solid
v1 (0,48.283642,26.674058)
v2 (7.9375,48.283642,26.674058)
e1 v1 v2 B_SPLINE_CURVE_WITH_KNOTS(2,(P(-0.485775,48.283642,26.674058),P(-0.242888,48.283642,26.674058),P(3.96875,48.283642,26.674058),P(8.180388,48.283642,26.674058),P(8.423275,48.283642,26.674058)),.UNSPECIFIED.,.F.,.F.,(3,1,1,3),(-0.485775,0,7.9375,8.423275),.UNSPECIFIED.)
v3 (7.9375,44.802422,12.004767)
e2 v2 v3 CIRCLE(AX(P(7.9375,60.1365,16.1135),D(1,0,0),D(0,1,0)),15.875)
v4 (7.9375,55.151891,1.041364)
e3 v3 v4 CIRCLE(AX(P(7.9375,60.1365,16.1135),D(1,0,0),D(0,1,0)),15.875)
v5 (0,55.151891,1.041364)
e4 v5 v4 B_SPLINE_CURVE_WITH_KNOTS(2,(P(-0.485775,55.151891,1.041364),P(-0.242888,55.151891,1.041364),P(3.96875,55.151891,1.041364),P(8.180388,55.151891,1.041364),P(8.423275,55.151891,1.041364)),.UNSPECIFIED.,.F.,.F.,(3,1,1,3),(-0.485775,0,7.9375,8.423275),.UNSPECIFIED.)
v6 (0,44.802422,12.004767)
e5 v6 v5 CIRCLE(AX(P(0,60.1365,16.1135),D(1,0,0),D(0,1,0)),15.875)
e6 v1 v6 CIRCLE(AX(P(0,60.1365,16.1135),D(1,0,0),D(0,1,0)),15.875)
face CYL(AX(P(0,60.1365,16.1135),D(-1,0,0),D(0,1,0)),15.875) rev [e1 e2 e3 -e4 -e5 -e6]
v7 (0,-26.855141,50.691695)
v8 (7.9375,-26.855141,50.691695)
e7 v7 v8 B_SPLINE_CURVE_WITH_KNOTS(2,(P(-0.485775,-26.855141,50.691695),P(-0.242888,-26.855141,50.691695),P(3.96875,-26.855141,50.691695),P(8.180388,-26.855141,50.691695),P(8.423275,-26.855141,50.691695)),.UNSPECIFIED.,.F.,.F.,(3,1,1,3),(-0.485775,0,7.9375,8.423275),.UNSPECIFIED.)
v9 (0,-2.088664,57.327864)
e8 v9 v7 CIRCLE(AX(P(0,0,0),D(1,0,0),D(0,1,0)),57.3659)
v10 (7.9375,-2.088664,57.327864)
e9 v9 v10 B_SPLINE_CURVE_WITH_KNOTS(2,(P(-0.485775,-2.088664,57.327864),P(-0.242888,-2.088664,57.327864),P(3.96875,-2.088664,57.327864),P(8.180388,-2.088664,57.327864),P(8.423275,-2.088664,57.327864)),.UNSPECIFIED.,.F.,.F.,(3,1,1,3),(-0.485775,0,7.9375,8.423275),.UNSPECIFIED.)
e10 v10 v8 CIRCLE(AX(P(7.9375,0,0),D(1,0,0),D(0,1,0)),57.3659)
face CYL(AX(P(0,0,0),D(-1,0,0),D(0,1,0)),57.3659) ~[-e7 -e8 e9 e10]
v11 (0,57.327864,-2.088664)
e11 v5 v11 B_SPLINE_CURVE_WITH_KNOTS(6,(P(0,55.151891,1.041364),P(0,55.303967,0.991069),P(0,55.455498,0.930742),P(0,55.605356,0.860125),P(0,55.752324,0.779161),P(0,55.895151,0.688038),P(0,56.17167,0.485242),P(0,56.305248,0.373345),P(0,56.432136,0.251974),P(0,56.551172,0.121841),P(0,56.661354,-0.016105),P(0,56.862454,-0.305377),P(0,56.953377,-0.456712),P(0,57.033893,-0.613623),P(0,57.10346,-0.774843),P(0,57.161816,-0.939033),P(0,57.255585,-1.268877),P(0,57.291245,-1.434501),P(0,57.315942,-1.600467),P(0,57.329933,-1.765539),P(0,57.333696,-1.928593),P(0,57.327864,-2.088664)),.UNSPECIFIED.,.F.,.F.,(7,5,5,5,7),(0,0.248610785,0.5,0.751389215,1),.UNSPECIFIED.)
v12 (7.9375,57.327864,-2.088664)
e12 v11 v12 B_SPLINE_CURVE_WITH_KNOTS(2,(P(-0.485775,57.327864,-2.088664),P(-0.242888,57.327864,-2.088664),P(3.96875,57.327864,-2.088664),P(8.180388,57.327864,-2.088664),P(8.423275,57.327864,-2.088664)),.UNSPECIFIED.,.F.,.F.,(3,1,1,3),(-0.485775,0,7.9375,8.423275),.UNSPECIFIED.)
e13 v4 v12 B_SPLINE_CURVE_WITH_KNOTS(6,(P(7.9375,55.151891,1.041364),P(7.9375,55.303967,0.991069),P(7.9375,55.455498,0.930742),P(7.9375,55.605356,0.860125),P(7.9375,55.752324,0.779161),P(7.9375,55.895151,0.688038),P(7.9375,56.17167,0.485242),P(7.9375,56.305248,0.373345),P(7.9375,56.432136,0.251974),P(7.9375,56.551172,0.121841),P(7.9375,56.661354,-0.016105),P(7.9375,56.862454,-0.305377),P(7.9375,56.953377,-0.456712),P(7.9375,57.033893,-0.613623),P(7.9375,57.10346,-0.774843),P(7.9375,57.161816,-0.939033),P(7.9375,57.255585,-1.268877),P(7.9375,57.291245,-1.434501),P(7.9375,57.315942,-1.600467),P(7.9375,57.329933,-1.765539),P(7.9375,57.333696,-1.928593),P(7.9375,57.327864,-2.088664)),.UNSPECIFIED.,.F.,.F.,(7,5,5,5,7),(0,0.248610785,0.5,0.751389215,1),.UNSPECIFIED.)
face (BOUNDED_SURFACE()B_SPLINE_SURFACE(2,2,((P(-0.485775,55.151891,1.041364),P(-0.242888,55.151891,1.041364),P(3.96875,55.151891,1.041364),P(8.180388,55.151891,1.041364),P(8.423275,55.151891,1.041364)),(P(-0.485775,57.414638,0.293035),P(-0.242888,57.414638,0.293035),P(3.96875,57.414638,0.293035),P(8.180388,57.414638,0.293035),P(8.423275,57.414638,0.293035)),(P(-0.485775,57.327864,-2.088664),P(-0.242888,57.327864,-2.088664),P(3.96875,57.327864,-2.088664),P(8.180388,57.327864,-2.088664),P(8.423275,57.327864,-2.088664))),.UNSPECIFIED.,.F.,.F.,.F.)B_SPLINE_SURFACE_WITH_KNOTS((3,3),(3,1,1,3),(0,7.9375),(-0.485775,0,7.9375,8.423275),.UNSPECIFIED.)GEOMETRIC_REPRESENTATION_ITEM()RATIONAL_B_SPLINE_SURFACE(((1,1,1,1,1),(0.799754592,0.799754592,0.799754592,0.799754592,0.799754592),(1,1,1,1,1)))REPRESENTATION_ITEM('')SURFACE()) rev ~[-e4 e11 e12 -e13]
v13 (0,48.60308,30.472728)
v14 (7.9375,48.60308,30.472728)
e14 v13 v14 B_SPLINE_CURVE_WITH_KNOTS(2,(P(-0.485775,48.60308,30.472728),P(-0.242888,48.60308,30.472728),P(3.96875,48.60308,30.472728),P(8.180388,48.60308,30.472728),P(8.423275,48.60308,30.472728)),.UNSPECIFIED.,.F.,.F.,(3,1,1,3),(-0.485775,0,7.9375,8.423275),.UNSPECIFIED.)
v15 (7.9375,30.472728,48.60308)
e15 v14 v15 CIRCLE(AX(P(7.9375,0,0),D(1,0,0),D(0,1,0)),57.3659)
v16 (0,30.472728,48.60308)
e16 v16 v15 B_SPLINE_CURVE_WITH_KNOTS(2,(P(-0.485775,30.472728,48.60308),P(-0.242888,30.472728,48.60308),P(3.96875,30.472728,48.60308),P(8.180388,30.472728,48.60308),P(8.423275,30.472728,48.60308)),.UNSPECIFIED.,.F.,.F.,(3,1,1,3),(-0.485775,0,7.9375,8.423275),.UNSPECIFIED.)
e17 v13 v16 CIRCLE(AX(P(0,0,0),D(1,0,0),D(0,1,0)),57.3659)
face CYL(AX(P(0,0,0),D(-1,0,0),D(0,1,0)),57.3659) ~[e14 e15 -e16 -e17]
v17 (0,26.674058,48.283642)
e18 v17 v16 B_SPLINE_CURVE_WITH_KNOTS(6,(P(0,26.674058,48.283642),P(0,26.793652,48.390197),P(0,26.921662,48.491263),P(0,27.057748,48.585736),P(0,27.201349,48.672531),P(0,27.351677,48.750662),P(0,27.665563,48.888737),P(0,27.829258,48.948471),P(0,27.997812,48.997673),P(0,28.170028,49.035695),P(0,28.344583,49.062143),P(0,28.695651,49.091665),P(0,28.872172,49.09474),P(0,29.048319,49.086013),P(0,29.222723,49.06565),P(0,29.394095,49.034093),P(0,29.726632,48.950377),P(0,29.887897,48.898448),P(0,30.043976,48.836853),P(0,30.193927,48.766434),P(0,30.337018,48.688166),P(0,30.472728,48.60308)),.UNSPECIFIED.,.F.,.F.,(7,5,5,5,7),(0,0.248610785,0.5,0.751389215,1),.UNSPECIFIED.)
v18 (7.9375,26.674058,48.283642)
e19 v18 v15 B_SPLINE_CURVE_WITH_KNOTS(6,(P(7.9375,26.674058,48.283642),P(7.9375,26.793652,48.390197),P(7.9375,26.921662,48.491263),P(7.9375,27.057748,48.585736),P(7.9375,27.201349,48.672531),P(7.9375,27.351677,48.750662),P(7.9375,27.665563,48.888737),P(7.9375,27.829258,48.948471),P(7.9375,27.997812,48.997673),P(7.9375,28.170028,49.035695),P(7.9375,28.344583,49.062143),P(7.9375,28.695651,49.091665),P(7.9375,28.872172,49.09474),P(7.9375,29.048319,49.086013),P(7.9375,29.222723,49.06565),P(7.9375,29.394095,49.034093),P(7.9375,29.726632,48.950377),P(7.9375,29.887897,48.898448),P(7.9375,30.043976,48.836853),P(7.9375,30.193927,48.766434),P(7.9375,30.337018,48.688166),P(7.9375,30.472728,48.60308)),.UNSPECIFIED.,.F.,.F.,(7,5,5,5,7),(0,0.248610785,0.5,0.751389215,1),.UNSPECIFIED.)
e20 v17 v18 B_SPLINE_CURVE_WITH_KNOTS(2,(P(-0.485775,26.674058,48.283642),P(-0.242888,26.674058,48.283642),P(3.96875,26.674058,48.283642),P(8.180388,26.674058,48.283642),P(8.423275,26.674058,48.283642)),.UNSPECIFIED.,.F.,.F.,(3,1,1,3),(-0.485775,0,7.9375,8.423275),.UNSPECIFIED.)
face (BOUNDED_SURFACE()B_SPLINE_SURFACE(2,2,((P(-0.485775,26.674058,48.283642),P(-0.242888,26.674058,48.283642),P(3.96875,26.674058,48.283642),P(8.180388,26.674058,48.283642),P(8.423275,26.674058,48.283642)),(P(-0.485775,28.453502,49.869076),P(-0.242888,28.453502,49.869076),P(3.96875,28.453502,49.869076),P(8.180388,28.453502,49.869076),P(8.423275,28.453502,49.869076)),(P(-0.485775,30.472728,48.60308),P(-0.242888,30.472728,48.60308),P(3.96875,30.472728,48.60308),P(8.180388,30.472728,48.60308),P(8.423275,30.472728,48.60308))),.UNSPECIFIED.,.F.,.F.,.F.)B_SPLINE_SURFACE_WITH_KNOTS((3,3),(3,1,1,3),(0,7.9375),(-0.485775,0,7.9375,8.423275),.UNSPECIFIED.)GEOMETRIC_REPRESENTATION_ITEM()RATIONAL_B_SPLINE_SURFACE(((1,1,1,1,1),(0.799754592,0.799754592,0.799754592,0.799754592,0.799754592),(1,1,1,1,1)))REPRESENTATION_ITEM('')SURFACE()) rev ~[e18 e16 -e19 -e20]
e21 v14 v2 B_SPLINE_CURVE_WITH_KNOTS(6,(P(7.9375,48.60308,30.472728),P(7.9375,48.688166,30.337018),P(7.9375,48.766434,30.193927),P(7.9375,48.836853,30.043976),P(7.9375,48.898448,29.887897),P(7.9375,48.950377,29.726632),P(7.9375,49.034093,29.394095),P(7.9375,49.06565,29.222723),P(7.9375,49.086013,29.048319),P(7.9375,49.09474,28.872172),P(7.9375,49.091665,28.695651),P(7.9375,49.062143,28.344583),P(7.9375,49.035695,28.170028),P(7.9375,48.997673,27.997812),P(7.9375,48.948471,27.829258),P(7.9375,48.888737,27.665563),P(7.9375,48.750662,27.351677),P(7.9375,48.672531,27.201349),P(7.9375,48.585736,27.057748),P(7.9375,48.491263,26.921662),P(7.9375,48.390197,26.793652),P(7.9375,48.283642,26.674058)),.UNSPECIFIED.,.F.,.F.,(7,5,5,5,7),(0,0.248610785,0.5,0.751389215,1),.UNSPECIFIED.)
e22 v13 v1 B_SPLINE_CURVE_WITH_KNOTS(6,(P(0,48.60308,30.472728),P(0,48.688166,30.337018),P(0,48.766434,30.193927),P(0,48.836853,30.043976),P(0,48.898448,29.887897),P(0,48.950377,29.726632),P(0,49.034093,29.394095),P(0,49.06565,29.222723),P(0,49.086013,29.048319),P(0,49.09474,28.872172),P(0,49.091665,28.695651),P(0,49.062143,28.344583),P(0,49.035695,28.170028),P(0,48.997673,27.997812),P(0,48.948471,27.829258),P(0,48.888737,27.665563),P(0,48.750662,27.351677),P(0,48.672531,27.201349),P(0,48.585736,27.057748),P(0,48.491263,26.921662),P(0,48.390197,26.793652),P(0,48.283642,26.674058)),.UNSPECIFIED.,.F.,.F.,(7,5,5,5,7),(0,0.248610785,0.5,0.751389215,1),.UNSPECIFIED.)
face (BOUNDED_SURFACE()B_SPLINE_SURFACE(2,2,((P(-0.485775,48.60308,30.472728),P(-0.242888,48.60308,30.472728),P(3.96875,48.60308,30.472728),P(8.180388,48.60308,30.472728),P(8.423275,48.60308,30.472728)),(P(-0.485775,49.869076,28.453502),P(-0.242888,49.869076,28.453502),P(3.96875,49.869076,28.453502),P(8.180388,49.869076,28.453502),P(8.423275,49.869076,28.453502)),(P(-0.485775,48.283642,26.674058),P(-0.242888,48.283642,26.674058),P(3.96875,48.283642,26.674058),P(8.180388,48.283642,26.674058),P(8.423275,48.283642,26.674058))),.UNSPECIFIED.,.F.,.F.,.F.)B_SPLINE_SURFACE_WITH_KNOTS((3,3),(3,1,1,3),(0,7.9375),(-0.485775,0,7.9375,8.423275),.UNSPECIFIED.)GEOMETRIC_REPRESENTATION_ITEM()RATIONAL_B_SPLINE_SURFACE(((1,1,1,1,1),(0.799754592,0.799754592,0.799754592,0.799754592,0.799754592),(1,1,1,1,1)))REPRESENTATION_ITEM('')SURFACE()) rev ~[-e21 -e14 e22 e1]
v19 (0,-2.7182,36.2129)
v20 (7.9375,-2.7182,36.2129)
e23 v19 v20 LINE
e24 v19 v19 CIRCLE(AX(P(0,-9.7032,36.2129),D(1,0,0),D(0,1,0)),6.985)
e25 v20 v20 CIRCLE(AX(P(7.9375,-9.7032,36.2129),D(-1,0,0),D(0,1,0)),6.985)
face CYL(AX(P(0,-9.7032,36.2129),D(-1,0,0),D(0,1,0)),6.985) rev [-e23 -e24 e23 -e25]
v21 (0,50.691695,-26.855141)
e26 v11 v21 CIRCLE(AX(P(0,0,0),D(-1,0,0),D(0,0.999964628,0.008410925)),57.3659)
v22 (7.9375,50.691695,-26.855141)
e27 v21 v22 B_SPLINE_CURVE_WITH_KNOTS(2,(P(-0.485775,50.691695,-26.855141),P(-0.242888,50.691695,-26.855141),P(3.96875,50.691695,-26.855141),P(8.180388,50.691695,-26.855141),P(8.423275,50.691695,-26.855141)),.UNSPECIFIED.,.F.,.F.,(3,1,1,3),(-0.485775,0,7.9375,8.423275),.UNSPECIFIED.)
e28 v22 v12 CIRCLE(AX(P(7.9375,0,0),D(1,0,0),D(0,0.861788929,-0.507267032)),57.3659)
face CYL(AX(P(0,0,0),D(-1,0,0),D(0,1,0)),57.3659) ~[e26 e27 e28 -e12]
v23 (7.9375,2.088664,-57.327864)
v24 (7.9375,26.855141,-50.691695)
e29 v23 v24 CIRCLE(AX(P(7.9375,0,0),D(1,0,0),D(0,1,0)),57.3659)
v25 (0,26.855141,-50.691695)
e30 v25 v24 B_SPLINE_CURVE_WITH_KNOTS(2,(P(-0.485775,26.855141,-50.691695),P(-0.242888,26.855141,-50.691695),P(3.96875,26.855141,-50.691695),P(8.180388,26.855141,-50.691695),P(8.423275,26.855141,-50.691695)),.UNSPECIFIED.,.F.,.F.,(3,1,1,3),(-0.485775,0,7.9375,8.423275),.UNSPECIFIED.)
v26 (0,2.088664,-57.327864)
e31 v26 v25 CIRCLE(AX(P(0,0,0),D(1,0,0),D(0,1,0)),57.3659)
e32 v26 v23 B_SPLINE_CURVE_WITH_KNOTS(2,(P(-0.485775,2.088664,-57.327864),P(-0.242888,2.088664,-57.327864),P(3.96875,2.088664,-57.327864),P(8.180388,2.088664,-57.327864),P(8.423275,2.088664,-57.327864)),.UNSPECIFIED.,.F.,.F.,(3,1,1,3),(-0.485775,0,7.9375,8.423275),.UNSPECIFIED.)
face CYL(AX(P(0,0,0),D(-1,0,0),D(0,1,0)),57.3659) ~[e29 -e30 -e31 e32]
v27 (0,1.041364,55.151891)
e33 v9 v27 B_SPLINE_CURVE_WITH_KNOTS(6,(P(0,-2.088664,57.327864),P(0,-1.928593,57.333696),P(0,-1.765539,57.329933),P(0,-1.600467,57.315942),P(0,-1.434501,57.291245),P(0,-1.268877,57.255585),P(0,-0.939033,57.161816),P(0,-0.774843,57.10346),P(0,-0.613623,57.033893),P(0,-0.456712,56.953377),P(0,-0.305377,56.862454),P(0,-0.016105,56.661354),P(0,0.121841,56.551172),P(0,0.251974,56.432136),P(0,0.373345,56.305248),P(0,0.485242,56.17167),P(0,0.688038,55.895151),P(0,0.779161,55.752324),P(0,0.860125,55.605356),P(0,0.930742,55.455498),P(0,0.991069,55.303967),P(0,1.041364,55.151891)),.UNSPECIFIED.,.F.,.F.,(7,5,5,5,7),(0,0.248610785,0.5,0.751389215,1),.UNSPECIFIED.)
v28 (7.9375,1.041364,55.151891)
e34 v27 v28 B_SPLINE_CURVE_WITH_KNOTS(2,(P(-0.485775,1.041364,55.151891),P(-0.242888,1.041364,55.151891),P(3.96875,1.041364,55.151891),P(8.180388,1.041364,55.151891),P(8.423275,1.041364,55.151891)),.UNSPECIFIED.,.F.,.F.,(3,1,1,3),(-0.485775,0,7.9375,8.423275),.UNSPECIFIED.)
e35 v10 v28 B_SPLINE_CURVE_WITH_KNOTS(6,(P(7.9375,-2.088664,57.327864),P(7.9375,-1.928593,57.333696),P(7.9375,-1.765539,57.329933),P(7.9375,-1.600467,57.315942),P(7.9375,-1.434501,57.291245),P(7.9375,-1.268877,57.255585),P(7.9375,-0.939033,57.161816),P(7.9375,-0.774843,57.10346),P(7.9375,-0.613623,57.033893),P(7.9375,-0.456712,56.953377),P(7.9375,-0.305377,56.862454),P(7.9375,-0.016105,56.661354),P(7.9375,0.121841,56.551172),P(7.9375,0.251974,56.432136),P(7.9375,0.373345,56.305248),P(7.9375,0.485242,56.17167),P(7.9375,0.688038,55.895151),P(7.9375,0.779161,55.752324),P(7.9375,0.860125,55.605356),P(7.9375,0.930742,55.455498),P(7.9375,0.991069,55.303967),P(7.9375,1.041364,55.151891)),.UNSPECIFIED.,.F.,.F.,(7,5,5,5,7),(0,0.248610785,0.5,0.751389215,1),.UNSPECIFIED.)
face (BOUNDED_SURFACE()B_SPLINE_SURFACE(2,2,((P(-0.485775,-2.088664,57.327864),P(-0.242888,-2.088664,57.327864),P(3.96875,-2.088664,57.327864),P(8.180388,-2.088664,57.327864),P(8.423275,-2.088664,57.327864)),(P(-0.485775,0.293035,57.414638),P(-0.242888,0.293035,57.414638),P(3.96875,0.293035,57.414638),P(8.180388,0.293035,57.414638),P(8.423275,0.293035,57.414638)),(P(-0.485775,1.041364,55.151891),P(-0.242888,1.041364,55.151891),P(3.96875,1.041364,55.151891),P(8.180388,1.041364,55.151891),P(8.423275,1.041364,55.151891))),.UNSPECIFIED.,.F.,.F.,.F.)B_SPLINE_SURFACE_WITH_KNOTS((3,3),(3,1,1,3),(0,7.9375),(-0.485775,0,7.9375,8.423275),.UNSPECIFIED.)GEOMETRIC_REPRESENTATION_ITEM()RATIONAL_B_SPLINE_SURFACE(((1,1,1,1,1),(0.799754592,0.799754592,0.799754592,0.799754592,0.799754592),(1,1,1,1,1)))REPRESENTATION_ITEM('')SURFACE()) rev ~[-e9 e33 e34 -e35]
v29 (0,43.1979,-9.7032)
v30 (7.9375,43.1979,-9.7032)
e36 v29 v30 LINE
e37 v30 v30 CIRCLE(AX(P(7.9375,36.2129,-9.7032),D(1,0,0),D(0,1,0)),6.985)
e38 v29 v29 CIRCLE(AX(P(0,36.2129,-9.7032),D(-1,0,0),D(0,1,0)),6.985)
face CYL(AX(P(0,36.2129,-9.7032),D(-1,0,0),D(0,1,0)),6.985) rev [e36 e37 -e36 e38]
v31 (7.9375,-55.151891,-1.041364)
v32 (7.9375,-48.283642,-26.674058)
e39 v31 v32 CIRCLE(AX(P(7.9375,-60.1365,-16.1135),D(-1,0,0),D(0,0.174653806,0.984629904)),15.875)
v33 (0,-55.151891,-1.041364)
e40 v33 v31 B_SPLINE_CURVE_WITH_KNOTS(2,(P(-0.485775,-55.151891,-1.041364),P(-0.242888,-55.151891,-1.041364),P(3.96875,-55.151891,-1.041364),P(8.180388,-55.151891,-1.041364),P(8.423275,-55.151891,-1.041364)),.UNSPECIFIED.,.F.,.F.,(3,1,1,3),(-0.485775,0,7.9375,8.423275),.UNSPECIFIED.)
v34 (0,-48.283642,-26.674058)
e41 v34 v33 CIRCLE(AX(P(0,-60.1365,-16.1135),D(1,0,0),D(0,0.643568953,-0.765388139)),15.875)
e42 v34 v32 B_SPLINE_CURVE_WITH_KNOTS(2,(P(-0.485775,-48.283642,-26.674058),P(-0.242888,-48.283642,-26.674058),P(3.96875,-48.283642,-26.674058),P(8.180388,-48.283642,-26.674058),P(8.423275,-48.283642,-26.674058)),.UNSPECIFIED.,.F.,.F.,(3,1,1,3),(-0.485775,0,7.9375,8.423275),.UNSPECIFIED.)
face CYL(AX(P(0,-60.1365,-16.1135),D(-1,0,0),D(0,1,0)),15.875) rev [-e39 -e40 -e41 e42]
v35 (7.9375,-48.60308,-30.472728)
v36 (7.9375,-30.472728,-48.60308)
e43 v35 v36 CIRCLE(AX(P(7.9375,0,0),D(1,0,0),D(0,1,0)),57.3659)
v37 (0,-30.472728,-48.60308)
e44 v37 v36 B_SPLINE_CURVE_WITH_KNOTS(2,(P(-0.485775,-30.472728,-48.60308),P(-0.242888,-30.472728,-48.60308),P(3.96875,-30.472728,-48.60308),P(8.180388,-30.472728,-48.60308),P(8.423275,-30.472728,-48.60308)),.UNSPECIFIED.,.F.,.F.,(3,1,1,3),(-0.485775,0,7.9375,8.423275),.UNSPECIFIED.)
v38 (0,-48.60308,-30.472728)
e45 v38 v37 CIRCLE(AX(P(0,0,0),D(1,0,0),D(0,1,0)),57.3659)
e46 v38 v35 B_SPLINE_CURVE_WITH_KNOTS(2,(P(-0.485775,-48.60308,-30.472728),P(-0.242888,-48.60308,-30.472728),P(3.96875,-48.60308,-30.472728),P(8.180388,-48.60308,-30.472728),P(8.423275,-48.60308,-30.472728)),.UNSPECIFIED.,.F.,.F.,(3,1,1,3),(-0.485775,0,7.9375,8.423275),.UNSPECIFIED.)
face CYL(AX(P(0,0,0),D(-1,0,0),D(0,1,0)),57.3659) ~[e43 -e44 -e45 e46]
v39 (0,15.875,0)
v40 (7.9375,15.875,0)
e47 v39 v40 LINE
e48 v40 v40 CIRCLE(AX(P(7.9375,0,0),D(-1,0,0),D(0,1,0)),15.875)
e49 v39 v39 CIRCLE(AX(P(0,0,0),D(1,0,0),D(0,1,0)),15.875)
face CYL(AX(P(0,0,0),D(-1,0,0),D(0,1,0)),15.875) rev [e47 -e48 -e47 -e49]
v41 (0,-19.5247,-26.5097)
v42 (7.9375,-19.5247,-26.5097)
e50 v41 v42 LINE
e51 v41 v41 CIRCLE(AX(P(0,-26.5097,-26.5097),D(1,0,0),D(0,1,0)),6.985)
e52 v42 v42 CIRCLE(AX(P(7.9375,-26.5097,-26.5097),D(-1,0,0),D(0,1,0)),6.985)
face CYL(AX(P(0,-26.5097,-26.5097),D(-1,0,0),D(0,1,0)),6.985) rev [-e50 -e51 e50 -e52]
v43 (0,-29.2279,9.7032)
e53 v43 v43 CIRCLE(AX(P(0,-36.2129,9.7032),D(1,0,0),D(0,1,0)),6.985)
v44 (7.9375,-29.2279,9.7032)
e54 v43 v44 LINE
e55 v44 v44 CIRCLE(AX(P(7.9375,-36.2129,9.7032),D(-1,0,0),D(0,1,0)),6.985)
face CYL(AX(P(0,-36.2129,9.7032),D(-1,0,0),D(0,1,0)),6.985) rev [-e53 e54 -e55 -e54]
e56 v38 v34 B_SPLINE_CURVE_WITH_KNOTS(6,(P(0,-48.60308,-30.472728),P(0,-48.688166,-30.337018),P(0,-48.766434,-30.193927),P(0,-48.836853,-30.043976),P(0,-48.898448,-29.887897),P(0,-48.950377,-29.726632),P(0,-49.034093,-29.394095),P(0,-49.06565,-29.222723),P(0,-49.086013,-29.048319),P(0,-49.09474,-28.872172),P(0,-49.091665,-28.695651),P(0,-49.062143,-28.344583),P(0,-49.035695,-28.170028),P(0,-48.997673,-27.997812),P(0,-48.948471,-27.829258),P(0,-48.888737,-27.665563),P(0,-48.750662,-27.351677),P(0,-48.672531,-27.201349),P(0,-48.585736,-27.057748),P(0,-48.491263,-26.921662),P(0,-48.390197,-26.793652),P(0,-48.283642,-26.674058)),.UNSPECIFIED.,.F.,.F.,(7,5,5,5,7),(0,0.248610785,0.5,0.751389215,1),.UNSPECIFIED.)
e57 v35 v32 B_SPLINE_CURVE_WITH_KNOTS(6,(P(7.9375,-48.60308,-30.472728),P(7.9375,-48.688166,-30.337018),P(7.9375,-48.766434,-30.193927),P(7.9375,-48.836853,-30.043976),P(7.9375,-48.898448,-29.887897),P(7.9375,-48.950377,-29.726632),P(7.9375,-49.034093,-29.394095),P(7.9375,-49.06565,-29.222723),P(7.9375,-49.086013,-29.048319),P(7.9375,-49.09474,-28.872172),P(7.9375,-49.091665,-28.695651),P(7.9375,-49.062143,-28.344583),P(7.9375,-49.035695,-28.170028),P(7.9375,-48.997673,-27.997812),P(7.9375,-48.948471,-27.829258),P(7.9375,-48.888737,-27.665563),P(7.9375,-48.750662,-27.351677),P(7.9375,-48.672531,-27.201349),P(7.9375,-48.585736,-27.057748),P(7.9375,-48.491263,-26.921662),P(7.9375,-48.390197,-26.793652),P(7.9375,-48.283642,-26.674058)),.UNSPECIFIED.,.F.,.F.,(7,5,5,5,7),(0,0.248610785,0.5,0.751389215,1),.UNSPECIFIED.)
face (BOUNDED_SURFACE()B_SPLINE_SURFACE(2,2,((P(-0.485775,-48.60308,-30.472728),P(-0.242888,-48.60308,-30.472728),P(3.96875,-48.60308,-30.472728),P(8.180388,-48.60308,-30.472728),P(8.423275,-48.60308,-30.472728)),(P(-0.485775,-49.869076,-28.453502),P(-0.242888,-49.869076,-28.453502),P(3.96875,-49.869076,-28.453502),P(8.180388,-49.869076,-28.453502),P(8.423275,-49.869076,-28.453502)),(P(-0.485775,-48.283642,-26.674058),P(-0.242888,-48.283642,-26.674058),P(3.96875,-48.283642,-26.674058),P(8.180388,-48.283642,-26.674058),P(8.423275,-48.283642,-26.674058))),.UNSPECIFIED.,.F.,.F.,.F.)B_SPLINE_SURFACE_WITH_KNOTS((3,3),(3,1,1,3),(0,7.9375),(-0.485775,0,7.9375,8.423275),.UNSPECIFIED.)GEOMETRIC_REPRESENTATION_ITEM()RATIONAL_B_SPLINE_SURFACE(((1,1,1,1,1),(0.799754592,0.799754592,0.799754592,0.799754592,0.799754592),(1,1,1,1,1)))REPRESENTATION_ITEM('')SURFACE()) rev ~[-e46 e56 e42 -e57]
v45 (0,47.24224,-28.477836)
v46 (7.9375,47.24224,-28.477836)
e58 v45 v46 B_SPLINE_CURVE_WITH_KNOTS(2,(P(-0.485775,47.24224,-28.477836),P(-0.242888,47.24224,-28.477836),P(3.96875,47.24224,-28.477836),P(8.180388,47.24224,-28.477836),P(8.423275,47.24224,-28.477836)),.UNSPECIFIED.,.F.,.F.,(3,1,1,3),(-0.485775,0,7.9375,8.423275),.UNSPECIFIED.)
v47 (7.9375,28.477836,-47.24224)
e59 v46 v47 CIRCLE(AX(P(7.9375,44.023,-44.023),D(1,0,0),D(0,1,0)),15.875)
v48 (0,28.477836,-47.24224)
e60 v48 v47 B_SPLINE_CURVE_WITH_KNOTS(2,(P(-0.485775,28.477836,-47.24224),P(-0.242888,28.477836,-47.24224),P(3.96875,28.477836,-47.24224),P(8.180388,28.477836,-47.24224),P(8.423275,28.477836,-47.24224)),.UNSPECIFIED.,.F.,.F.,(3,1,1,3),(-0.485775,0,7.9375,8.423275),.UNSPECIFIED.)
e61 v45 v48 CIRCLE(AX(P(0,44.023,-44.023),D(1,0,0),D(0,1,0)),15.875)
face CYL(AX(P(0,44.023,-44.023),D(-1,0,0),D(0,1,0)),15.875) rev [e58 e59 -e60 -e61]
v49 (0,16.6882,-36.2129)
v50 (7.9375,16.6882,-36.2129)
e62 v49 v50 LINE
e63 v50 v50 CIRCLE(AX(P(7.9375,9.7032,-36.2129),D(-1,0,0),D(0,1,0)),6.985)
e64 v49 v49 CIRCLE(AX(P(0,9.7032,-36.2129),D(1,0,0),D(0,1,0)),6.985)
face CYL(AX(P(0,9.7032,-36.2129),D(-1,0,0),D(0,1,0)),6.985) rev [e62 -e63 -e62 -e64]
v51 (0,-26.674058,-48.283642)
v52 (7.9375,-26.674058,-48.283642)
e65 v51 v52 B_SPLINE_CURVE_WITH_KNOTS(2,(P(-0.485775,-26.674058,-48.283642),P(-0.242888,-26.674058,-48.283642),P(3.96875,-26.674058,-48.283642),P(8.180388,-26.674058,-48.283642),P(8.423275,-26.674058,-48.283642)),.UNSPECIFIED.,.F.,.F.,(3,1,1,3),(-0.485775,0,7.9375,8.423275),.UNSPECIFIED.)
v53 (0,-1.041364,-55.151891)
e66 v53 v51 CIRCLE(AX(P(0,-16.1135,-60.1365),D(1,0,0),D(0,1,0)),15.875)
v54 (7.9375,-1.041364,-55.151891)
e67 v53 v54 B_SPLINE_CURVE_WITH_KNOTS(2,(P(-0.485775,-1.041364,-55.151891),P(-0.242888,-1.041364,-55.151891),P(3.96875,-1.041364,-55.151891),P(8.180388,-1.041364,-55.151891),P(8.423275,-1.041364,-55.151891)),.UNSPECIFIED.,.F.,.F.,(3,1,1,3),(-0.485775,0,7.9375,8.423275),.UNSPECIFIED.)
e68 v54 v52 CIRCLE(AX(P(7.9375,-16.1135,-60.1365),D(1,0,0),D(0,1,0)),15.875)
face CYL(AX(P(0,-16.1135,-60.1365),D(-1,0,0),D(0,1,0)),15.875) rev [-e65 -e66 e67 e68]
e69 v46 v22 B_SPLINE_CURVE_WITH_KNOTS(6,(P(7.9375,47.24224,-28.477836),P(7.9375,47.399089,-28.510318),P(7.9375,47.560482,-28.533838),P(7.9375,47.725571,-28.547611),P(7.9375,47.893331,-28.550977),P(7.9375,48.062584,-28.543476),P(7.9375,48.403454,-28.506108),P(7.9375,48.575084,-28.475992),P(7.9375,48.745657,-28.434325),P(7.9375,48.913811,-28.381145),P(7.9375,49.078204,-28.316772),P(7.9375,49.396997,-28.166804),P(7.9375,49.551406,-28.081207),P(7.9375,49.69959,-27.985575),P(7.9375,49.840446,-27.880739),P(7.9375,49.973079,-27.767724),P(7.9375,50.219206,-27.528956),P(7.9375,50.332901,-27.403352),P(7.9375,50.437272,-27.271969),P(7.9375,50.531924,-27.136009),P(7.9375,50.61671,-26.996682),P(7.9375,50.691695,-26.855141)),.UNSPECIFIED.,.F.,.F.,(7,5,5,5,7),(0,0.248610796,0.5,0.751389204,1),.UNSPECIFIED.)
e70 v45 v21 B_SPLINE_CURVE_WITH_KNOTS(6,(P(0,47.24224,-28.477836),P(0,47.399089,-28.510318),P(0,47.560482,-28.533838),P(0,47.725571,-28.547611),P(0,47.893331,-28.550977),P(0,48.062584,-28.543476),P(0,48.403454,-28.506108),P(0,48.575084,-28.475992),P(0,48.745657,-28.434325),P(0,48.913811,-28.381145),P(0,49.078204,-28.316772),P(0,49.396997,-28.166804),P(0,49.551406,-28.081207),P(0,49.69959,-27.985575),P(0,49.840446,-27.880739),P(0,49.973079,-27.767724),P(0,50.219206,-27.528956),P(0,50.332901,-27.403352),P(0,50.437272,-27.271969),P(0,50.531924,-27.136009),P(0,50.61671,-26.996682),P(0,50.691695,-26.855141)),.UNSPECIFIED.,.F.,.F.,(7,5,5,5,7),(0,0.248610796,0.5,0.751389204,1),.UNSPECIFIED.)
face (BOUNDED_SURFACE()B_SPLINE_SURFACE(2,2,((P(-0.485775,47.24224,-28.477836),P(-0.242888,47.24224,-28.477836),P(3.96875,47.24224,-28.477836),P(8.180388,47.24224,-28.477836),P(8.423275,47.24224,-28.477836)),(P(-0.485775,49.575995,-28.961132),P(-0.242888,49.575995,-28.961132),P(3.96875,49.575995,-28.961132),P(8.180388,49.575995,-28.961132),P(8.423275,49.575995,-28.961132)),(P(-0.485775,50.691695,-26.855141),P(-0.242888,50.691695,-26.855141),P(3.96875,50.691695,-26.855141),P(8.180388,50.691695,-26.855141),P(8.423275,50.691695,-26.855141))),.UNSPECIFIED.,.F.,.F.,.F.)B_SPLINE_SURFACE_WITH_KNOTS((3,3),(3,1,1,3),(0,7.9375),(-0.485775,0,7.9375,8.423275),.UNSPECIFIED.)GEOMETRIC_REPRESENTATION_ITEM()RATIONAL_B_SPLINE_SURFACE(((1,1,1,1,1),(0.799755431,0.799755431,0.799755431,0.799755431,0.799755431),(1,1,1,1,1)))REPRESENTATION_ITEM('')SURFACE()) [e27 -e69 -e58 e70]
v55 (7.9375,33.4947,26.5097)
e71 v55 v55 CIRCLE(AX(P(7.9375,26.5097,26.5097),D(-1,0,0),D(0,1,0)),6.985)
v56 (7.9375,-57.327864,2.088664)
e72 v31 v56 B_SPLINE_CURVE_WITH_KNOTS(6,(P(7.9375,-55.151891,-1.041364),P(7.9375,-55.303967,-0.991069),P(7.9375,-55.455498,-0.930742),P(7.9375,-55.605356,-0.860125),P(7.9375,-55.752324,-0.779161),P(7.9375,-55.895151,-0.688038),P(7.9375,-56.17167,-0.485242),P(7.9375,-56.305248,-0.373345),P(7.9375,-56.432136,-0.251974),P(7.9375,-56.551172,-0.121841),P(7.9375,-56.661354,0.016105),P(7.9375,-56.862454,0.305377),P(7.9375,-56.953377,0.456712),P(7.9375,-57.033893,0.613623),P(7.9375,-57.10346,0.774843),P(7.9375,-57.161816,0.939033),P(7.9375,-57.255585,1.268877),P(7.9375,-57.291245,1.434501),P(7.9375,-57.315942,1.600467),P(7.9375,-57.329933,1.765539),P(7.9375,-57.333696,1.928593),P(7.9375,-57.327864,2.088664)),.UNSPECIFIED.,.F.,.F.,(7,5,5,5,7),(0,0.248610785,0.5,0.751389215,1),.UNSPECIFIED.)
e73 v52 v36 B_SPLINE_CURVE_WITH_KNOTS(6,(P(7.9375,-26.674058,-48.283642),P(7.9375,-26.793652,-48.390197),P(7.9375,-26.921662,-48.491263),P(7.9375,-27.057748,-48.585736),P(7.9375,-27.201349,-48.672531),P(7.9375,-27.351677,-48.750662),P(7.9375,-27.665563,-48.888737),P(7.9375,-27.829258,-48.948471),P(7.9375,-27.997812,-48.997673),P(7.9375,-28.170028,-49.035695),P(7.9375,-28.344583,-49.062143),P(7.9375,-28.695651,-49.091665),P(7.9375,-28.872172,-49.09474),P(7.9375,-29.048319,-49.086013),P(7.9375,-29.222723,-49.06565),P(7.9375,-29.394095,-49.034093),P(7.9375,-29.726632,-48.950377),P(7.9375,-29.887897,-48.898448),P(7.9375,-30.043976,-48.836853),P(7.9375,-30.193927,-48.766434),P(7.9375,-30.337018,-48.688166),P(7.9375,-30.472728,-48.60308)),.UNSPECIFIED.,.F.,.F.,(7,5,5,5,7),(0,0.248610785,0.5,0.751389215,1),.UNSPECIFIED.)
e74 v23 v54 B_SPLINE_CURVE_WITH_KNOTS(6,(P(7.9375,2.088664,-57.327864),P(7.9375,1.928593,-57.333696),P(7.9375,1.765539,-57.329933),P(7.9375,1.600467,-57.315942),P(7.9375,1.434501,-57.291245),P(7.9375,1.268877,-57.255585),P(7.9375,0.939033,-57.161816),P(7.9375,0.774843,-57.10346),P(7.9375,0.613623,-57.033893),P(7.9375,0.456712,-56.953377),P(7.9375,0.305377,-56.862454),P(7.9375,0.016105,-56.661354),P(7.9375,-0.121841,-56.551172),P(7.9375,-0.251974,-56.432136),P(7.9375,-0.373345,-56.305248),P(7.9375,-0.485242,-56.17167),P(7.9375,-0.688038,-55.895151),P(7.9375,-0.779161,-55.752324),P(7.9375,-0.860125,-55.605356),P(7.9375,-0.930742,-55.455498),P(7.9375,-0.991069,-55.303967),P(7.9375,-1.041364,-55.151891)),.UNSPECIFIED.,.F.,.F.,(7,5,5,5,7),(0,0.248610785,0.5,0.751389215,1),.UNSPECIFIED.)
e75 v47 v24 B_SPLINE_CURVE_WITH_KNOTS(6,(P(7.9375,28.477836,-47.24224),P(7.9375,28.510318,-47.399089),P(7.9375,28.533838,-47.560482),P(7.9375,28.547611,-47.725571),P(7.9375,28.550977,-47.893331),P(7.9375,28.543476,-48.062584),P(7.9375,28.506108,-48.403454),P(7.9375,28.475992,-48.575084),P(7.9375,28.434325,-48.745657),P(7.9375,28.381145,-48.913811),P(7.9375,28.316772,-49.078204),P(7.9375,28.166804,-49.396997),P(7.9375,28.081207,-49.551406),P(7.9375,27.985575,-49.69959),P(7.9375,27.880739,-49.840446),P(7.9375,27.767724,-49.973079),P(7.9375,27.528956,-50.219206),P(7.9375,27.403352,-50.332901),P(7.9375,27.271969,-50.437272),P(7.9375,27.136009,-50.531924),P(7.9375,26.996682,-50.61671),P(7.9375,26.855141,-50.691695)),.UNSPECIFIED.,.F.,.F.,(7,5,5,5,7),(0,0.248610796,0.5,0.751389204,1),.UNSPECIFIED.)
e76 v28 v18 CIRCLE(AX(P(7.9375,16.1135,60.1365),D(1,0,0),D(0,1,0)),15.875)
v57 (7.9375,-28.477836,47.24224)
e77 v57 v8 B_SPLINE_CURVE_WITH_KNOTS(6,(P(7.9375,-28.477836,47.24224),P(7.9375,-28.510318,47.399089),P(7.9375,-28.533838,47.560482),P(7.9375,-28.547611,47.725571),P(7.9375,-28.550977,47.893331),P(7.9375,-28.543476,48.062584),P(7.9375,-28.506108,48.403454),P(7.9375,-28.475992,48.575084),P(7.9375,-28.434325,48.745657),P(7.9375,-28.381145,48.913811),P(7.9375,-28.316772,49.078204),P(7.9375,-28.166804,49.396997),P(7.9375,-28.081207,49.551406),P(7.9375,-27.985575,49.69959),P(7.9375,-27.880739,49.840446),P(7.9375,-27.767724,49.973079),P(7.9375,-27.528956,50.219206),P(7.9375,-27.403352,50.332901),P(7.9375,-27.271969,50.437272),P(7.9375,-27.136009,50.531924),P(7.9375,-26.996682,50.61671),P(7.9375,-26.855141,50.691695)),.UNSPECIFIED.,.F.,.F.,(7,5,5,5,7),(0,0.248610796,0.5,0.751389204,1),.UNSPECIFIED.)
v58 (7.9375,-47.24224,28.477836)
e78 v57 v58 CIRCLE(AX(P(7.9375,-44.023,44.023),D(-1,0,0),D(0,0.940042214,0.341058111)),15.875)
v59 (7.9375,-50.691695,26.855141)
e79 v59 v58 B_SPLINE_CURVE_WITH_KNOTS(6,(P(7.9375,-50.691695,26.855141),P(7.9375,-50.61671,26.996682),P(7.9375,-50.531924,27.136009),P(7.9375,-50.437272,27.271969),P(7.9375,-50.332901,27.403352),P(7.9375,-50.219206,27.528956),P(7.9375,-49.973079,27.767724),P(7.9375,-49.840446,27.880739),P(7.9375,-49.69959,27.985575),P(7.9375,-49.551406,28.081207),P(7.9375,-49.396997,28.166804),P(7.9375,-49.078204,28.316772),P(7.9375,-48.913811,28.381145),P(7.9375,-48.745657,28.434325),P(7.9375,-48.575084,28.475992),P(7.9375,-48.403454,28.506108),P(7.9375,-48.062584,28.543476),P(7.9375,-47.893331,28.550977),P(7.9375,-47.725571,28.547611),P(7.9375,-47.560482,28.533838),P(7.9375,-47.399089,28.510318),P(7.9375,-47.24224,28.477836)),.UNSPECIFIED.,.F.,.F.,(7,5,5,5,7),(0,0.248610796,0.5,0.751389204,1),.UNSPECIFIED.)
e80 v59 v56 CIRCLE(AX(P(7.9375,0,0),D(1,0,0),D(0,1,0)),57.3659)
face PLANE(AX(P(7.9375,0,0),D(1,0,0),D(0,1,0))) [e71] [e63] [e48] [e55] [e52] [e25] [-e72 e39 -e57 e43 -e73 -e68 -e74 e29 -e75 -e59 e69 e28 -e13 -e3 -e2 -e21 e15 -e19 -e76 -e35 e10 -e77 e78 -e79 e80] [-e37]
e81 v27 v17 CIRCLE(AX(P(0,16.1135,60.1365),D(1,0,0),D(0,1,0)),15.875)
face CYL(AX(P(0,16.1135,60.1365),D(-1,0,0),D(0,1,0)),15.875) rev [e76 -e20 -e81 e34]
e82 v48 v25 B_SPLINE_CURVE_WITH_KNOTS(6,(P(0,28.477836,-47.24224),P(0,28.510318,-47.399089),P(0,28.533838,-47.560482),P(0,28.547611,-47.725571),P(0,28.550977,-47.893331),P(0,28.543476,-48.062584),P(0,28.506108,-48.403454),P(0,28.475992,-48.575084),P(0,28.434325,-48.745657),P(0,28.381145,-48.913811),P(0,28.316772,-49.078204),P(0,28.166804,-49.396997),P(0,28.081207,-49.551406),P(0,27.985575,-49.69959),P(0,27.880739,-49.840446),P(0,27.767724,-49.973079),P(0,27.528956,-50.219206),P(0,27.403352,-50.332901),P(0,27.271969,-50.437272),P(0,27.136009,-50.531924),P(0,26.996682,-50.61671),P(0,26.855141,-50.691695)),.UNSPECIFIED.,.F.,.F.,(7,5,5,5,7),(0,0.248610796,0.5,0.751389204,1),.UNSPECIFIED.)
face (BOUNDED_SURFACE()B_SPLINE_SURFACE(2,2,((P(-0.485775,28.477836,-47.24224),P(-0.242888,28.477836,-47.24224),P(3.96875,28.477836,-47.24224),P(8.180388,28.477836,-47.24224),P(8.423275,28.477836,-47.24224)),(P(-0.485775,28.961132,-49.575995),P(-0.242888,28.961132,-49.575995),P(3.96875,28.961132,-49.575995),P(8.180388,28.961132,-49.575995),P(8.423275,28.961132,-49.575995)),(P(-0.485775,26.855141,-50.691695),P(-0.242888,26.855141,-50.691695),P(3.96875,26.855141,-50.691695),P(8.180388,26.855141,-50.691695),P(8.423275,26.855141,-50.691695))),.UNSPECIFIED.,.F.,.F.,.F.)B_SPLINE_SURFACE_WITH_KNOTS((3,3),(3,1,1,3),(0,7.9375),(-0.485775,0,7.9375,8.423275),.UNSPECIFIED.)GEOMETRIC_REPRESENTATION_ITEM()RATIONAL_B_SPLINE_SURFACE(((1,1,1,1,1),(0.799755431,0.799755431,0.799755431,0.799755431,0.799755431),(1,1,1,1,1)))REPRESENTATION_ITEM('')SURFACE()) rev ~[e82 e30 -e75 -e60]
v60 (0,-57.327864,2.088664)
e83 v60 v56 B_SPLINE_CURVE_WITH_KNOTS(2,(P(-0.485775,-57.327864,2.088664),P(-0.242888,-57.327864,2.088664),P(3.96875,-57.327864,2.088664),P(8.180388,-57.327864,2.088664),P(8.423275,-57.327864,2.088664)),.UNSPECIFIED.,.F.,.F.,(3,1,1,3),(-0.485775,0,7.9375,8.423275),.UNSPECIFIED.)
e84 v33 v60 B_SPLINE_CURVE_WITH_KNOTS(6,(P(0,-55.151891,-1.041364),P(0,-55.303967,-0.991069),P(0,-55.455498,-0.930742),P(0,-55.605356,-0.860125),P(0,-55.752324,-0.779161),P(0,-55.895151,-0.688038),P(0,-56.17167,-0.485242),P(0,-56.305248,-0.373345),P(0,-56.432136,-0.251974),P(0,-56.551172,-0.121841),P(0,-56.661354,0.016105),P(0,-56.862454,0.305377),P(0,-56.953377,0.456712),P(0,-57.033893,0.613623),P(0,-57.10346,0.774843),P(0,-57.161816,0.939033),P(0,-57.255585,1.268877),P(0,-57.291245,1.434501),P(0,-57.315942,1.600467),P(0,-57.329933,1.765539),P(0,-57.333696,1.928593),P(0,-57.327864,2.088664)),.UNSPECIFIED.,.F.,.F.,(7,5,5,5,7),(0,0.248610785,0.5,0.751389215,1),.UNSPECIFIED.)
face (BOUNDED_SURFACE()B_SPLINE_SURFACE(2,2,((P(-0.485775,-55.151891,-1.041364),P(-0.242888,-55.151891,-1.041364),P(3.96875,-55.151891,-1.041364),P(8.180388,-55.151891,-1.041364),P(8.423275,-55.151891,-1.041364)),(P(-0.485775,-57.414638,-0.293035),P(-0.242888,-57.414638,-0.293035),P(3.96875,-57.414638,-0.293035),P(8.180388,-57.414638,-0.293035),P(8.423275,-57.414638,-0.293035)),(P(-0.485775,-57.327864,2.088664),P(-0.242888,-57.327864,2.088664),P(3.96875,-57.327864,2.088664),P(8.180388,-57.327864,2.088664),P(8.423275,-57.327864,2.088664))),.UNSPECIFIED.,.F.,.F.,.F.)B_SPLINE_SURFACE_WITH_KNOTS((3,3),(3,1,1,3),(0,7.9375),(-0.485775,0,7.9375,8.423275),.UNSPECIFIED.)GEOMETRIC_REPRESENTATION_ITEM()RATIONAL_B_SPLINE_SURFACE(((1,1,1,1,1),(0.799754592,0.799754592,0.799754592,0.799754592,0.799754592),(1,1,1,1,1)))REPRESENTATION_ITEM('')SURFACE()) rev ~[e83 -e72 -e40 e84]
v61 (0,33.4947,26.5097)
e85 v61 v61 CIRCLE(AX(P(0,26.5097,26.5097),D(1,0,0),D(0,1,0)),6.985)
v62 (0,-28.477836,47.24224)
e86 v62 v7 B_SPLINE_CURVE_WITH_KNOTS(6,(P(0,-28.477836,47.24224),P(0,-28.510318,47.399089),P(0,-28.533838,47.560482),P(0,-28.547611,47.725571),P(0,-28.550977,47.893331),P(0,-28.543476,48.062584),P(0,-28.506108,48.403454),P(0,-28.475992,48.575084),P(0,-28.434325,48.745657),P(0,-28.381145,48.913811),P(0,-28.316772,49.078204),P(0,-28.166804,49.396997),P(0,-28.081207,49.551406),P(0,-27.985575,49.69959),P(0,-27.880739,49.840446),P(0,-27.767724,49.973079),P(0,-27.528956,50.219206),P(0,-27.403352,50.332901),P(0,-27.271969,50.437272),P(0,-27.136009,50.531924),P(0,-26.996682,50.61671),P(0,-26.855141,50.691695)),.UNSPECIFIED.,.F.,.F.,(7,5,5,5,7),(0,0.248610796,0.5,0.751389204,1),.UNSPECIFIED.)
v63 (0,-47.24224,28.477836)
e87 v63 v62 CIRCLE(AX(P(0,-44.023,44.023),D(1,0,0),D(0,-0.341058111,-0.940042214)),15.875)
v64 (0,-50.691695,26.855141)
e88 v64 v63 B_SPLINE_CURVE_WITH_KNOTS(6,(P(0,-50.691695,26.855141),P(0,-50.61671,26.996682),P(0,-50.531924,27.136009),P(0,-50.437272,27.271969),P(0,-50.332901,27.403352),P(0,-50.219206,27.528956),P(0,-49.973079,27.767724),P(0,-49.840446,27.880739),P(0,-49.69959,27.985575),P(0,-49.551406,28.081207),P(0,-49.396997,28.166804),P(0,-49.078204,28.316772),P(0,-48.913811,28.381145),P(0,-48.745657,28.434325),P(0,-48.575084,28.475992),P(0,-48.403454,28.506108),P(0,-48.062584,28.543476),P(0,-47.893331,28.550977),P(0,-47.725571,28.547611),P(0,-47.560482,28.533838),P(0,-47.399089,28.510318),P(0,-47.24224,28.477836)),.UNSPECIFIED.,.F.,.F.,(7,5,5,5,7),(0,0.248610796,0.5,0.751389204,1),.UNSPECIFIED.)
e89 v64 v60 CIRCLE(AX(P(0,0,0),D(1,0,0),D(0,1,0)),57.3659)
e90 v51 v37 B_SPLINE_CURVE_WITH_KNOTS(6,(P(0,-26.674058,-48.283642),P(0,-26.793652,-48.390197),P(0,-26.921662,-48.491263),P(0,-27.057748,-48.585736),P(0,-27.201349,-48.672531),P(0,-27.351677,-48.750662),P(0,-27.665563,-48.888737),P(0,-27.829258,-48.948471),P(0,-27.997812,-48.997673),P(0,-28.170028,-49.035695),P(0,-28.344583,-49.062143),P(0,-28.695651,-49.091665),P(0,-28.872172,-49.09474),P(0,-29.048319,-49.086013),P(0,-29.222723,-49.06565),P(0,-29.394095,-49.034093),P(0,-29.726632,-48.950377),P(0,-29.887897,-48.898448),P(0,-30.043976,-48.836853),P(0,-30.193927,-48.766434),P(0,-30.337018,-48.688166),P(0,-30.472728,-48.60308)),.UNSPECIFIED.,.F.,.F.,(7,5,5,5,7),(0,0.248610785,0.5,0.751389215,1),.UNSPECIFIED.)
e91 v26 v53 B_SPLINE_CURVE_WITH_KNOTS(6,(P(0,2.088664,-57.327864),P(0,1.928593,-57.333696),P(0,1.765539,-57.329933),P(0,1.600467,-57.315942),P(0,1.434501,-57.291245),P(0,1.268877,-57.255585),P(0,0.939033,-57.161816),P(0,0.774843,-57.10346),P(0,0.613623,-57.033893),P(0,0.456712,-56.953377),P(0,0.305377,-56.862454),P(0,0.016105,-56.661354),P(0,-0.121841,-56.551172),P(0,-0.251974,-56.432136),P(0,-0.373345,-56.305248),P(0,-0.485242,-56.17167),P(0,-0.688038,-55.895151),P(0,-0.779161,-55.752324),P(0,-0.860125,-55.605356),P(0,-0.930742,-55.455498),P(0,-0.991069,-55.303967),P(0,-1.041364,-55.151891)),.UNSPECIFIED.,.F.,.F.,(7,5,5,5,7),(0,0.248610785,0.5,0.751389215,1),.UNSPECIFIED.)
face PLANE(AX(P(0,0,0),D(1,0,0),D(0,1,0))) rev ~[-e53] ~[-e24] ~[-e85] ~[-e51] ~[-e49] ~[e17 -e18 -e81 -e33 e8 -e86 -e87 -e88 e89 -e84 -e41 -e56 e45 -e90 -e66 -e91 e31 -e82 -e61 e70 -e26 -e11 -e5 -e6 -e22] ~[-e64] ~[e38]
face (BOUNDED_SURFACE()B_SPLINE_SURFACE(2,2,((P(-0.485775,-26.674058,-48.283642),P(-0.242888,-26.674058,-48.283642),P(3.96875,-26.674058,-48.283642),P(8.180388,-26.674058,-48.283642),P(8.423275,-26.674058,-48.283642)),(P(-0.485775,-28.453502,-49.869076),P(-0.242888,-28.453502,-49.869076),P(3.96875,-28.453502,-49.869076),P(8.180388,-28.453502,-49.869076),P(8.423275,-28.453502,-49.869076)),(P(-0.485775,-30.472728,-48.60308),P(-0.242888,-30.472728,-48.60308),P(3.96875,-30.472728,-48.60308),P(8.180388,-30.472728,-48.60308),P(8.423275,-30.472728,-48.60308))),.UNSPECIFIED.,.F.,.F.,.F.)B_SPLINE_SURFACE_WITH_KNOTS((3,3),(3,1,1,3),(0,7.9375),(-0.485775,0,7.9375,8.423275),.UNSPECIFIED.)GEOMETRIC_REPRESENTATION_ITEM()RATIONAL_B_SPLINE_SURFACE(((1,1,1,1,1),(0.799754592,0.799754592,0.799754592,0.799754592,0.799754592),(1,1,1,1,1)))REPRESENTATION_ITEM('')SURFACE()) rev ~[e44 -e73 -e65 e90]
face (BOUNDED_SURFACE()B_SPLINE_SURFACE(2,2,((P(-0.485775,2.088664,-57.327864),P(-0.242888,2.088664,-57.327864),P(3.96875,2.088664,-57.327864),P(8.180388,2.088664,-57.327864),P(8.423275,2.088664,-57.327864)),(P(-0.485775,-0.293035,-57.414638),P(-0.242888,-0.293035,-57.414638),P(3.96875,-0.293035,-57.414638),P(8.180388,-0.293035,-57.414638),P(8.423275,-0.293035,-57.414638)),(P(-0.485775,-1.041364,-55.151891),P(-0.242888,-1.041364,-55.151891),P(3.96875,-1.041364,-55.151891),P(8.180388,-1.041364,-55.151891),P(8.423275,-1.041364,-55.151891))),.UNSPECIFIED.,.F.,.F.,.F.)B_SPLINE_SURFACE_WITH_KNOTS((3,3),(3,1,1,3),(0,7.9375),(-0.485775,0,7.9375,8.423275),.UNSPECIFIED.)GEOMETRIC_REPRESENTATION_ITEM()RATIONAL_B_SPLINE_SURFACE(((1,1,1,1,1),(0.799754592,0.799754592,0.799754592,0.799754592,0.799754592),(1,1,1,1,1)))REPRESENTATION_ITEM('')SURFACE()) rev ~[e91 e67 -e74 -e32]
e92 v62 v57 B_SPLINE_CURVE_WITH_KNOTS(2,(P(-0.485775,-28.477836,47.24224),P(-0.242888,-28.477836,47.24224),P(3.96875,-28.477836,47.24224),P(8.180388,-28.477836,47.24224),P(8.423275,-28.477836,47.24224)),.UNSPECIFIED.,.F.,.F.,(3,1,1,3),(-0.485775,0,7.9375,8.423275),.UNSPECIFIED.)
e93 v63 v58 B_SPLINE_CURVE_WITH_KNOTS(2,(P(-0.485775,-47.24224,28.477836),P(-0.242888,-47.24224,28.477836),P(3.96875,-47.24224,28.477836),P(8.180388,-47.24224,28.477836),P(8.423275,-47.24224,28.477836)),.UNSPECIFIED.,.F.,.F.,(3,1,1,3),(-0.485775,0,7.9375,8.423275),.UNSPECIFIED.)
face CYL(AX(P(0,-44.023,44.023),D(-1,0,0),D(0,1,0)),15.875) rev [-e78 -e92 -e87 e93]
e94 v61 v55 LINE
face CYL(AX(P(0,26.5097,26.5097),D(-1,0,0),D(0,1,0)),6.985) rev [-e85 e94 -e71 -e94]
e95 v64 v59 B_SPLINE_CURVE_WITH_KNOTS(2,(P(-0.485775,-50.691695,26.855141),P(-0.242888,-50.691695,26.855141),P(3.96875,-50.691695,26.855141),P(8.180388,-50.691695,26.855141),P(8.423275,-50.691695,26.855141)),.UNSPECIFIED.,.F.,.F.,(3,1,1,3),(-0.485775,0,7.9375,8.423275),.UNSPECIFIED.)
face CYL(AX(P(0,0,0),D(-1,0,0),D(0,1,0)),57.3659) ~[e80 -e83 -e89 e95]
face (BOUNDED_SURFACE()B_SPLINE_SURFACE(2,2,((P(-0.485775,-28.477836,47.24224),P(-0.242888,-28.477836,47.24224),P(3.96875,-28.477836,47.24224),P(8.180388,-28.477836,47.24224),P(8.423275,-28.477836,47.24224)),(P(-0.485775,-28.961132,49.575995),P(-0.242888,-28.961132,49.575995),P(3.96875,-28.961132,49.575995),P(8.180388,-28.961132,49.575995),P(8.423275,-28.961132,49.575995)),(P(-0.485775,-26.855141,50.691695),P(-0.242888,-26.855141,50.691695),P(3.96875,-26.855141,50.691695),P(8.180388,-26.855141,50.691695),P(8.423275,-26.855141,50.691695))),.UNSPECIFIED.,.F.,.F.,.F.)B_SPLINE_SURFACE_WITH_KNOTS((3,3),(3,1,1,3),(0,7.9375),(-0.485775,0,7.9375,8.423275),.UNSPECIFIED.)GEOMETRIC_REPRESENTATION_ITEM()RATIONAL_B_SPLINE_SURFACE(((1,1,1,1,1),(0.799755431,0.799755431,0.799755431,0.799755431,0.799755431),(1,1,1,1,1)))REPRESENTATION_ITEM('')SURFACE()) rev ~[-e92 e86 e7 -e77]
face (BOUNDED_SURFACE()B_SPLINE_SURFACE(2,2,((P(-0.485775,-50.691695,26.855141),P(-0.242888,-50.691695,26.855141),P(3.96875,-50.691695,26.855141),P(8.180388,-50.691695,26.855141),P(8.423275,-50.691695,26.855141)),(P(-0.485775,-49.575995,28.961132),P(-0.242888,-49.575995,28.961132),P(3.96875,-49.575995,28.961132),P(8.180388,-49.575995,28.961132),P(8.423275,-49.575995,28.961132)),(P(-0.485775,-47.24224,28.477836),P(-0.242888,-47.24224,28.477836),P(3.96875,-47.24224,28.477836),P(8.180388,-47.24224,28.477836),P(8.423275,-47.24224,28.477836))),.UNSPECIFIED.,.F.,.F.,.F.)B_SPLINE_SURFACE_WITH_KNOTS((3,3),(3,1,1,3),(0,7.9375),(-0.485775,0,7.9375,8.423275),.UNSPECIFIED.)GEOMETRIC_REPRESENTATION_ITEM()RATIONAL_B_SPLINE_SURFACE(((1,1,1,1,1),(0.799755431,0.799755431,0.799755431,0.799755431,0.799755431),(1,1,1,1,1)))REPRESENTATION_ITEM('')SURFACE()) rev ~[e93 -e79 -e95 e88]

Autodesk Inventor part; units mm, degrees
ref_plane "YZ Plane" through (0, 0, 0) normal (1, 0, 0) x (0, 1, 0)
ref_plane "XZ Plane" through (0, 0, 0) normal (0, 1, 0) x (-1, 0, 0)
ref_plane "XY Plane" through (0, 0, 0) normal (0, 0, 1) x (1, 0, 0)
sketch "Sketch1" plane through (0, 0, 0) normal (1, 0, 0) x (0, 1, 0)
  circle A0 centre (0, 0) radius 57.3659
  circle A1 centre (0, 0) radius 37.4904
  circle A2 centre (26.5097, 26.5097) radius 6.985
  line L0 (0, 0) -> (26.5097, 26.5097)
  line L1 (0, 0) -> (37.4904, 0) construction
  circle A3 centre (-9.7032, 36.2129) radius 6.985
  circle A4 centre (-36.2129, 9.7032) radius 6.985
  circle A5 centre (-26.5097, -26.5097) radius 6.985
  circle A6 centre (9.7032, -36.2129) radius 6.985
  circle A7 centre (36.2129, -9.7032) radius 6.985
  circle A8 centre (0, 0) radius 15.875
  circle A9 centre (60.1365, 16.1135) radius 15.875
  line L2 (0, 0) -> (62.2818, 0) construction
  line L3 (0, 0) -> (54.4204, 0) construction
  line L4 (0, 0) -> (47.0027, 0) construction
  line L5 (0, 0) -> (74.4134, 19.939)
  line L6 (0, 0) -> (77.0384, 0) construction
  circle A10 centre (0, 0) radius 15.875
  circle A11 centre (16.1135, 60.1365) radius 15.875
  circle A12 centre (0, 0) radius 15.875
  circle A13 centre (-44.023, 44.023) radius 15.875
  circle A14 centre (0, 0) radius 15.875
  circle A15 centre (-60.1365, -16.1135) radius 15.875
  circle A16 centre (0, 0) radius 15.875
  circle A17 centre (-16.1135, -60.1365) radius 15.875
  circle A18 centre (0, 0) radius 15.875
  circle A19 centre (44.023, -44.023) radius 15.875
  line L7 (0, 0) -> (-9.7032, 36.2129)
  line L8 (0, 0) -> (-36.2129, 9.7032)
  point P0 (36.2129, 9.7032)
  point P1 (49.9198, 28.264)
  point P2 (28.264, 49.9198)
  point P3 (0.4825, 57.3639)
  point P4 (-29.0998, 49.4373)
  point P5 (-49.4373, 29.0998)
  point P6 (-57.3639, -0.4825)
  point P7 (-49.9198, -28.264)
  point P8 (-28.264, -49.9198)
  point P9 (-0.4825, -57.3639)
  point P10 (29.0998, -49.4373)
  point P11 (49.4373, -29.0998)
  point P12 (57.3639, 0.4825)
  dimension "d0" = 114.7318
  dimension "d1" = 74.9808
  dimension "d2" = 13.97
  dimension "d3" = 45
  dimension "d6" = 360
  dimension "d8" = 31.75
  dimension "d12" = 31.75
  dimension "d16" = 15
  dimension "d19" = 360
  dimension "d24" = 21.6154
  dimension "d25" = 60.1365
extrude "Extrusion1" add sketch "Sketch1" along normal blind 7.9375 contours A1 A7 A6 A5 A4 L8 A8 L5 | L5 A8 L0 A2 A1 | A0 A19 A17 A15 A13 A11 A9 | L0 A8 L7 A3 A1 A2 | L8 A4 A1 A3 L7 A8
fillet "Fillet1" radius 3.175 12 edges at (3.9688, 57.3639, 0.4825) (3.9688, 49.9198, 28.264) (3.9688, 29.0998, -49.4373) (3.9688, 49.4373, -29.0998) (3.9688, -0.4825, -57.3639) (3.9688, -28.264, -49.9198) (3.9688, -49.9198, -28.264) (3.9688, -57.3639, -0.4825) (3.9688, -49.4373, 29.0998) (3.9688, -29.0998, 49.4373) (3.9688, 0.4825, 57.3639) (3.9688, 28.264, 49.9198)
properties part number "DTR-4"
